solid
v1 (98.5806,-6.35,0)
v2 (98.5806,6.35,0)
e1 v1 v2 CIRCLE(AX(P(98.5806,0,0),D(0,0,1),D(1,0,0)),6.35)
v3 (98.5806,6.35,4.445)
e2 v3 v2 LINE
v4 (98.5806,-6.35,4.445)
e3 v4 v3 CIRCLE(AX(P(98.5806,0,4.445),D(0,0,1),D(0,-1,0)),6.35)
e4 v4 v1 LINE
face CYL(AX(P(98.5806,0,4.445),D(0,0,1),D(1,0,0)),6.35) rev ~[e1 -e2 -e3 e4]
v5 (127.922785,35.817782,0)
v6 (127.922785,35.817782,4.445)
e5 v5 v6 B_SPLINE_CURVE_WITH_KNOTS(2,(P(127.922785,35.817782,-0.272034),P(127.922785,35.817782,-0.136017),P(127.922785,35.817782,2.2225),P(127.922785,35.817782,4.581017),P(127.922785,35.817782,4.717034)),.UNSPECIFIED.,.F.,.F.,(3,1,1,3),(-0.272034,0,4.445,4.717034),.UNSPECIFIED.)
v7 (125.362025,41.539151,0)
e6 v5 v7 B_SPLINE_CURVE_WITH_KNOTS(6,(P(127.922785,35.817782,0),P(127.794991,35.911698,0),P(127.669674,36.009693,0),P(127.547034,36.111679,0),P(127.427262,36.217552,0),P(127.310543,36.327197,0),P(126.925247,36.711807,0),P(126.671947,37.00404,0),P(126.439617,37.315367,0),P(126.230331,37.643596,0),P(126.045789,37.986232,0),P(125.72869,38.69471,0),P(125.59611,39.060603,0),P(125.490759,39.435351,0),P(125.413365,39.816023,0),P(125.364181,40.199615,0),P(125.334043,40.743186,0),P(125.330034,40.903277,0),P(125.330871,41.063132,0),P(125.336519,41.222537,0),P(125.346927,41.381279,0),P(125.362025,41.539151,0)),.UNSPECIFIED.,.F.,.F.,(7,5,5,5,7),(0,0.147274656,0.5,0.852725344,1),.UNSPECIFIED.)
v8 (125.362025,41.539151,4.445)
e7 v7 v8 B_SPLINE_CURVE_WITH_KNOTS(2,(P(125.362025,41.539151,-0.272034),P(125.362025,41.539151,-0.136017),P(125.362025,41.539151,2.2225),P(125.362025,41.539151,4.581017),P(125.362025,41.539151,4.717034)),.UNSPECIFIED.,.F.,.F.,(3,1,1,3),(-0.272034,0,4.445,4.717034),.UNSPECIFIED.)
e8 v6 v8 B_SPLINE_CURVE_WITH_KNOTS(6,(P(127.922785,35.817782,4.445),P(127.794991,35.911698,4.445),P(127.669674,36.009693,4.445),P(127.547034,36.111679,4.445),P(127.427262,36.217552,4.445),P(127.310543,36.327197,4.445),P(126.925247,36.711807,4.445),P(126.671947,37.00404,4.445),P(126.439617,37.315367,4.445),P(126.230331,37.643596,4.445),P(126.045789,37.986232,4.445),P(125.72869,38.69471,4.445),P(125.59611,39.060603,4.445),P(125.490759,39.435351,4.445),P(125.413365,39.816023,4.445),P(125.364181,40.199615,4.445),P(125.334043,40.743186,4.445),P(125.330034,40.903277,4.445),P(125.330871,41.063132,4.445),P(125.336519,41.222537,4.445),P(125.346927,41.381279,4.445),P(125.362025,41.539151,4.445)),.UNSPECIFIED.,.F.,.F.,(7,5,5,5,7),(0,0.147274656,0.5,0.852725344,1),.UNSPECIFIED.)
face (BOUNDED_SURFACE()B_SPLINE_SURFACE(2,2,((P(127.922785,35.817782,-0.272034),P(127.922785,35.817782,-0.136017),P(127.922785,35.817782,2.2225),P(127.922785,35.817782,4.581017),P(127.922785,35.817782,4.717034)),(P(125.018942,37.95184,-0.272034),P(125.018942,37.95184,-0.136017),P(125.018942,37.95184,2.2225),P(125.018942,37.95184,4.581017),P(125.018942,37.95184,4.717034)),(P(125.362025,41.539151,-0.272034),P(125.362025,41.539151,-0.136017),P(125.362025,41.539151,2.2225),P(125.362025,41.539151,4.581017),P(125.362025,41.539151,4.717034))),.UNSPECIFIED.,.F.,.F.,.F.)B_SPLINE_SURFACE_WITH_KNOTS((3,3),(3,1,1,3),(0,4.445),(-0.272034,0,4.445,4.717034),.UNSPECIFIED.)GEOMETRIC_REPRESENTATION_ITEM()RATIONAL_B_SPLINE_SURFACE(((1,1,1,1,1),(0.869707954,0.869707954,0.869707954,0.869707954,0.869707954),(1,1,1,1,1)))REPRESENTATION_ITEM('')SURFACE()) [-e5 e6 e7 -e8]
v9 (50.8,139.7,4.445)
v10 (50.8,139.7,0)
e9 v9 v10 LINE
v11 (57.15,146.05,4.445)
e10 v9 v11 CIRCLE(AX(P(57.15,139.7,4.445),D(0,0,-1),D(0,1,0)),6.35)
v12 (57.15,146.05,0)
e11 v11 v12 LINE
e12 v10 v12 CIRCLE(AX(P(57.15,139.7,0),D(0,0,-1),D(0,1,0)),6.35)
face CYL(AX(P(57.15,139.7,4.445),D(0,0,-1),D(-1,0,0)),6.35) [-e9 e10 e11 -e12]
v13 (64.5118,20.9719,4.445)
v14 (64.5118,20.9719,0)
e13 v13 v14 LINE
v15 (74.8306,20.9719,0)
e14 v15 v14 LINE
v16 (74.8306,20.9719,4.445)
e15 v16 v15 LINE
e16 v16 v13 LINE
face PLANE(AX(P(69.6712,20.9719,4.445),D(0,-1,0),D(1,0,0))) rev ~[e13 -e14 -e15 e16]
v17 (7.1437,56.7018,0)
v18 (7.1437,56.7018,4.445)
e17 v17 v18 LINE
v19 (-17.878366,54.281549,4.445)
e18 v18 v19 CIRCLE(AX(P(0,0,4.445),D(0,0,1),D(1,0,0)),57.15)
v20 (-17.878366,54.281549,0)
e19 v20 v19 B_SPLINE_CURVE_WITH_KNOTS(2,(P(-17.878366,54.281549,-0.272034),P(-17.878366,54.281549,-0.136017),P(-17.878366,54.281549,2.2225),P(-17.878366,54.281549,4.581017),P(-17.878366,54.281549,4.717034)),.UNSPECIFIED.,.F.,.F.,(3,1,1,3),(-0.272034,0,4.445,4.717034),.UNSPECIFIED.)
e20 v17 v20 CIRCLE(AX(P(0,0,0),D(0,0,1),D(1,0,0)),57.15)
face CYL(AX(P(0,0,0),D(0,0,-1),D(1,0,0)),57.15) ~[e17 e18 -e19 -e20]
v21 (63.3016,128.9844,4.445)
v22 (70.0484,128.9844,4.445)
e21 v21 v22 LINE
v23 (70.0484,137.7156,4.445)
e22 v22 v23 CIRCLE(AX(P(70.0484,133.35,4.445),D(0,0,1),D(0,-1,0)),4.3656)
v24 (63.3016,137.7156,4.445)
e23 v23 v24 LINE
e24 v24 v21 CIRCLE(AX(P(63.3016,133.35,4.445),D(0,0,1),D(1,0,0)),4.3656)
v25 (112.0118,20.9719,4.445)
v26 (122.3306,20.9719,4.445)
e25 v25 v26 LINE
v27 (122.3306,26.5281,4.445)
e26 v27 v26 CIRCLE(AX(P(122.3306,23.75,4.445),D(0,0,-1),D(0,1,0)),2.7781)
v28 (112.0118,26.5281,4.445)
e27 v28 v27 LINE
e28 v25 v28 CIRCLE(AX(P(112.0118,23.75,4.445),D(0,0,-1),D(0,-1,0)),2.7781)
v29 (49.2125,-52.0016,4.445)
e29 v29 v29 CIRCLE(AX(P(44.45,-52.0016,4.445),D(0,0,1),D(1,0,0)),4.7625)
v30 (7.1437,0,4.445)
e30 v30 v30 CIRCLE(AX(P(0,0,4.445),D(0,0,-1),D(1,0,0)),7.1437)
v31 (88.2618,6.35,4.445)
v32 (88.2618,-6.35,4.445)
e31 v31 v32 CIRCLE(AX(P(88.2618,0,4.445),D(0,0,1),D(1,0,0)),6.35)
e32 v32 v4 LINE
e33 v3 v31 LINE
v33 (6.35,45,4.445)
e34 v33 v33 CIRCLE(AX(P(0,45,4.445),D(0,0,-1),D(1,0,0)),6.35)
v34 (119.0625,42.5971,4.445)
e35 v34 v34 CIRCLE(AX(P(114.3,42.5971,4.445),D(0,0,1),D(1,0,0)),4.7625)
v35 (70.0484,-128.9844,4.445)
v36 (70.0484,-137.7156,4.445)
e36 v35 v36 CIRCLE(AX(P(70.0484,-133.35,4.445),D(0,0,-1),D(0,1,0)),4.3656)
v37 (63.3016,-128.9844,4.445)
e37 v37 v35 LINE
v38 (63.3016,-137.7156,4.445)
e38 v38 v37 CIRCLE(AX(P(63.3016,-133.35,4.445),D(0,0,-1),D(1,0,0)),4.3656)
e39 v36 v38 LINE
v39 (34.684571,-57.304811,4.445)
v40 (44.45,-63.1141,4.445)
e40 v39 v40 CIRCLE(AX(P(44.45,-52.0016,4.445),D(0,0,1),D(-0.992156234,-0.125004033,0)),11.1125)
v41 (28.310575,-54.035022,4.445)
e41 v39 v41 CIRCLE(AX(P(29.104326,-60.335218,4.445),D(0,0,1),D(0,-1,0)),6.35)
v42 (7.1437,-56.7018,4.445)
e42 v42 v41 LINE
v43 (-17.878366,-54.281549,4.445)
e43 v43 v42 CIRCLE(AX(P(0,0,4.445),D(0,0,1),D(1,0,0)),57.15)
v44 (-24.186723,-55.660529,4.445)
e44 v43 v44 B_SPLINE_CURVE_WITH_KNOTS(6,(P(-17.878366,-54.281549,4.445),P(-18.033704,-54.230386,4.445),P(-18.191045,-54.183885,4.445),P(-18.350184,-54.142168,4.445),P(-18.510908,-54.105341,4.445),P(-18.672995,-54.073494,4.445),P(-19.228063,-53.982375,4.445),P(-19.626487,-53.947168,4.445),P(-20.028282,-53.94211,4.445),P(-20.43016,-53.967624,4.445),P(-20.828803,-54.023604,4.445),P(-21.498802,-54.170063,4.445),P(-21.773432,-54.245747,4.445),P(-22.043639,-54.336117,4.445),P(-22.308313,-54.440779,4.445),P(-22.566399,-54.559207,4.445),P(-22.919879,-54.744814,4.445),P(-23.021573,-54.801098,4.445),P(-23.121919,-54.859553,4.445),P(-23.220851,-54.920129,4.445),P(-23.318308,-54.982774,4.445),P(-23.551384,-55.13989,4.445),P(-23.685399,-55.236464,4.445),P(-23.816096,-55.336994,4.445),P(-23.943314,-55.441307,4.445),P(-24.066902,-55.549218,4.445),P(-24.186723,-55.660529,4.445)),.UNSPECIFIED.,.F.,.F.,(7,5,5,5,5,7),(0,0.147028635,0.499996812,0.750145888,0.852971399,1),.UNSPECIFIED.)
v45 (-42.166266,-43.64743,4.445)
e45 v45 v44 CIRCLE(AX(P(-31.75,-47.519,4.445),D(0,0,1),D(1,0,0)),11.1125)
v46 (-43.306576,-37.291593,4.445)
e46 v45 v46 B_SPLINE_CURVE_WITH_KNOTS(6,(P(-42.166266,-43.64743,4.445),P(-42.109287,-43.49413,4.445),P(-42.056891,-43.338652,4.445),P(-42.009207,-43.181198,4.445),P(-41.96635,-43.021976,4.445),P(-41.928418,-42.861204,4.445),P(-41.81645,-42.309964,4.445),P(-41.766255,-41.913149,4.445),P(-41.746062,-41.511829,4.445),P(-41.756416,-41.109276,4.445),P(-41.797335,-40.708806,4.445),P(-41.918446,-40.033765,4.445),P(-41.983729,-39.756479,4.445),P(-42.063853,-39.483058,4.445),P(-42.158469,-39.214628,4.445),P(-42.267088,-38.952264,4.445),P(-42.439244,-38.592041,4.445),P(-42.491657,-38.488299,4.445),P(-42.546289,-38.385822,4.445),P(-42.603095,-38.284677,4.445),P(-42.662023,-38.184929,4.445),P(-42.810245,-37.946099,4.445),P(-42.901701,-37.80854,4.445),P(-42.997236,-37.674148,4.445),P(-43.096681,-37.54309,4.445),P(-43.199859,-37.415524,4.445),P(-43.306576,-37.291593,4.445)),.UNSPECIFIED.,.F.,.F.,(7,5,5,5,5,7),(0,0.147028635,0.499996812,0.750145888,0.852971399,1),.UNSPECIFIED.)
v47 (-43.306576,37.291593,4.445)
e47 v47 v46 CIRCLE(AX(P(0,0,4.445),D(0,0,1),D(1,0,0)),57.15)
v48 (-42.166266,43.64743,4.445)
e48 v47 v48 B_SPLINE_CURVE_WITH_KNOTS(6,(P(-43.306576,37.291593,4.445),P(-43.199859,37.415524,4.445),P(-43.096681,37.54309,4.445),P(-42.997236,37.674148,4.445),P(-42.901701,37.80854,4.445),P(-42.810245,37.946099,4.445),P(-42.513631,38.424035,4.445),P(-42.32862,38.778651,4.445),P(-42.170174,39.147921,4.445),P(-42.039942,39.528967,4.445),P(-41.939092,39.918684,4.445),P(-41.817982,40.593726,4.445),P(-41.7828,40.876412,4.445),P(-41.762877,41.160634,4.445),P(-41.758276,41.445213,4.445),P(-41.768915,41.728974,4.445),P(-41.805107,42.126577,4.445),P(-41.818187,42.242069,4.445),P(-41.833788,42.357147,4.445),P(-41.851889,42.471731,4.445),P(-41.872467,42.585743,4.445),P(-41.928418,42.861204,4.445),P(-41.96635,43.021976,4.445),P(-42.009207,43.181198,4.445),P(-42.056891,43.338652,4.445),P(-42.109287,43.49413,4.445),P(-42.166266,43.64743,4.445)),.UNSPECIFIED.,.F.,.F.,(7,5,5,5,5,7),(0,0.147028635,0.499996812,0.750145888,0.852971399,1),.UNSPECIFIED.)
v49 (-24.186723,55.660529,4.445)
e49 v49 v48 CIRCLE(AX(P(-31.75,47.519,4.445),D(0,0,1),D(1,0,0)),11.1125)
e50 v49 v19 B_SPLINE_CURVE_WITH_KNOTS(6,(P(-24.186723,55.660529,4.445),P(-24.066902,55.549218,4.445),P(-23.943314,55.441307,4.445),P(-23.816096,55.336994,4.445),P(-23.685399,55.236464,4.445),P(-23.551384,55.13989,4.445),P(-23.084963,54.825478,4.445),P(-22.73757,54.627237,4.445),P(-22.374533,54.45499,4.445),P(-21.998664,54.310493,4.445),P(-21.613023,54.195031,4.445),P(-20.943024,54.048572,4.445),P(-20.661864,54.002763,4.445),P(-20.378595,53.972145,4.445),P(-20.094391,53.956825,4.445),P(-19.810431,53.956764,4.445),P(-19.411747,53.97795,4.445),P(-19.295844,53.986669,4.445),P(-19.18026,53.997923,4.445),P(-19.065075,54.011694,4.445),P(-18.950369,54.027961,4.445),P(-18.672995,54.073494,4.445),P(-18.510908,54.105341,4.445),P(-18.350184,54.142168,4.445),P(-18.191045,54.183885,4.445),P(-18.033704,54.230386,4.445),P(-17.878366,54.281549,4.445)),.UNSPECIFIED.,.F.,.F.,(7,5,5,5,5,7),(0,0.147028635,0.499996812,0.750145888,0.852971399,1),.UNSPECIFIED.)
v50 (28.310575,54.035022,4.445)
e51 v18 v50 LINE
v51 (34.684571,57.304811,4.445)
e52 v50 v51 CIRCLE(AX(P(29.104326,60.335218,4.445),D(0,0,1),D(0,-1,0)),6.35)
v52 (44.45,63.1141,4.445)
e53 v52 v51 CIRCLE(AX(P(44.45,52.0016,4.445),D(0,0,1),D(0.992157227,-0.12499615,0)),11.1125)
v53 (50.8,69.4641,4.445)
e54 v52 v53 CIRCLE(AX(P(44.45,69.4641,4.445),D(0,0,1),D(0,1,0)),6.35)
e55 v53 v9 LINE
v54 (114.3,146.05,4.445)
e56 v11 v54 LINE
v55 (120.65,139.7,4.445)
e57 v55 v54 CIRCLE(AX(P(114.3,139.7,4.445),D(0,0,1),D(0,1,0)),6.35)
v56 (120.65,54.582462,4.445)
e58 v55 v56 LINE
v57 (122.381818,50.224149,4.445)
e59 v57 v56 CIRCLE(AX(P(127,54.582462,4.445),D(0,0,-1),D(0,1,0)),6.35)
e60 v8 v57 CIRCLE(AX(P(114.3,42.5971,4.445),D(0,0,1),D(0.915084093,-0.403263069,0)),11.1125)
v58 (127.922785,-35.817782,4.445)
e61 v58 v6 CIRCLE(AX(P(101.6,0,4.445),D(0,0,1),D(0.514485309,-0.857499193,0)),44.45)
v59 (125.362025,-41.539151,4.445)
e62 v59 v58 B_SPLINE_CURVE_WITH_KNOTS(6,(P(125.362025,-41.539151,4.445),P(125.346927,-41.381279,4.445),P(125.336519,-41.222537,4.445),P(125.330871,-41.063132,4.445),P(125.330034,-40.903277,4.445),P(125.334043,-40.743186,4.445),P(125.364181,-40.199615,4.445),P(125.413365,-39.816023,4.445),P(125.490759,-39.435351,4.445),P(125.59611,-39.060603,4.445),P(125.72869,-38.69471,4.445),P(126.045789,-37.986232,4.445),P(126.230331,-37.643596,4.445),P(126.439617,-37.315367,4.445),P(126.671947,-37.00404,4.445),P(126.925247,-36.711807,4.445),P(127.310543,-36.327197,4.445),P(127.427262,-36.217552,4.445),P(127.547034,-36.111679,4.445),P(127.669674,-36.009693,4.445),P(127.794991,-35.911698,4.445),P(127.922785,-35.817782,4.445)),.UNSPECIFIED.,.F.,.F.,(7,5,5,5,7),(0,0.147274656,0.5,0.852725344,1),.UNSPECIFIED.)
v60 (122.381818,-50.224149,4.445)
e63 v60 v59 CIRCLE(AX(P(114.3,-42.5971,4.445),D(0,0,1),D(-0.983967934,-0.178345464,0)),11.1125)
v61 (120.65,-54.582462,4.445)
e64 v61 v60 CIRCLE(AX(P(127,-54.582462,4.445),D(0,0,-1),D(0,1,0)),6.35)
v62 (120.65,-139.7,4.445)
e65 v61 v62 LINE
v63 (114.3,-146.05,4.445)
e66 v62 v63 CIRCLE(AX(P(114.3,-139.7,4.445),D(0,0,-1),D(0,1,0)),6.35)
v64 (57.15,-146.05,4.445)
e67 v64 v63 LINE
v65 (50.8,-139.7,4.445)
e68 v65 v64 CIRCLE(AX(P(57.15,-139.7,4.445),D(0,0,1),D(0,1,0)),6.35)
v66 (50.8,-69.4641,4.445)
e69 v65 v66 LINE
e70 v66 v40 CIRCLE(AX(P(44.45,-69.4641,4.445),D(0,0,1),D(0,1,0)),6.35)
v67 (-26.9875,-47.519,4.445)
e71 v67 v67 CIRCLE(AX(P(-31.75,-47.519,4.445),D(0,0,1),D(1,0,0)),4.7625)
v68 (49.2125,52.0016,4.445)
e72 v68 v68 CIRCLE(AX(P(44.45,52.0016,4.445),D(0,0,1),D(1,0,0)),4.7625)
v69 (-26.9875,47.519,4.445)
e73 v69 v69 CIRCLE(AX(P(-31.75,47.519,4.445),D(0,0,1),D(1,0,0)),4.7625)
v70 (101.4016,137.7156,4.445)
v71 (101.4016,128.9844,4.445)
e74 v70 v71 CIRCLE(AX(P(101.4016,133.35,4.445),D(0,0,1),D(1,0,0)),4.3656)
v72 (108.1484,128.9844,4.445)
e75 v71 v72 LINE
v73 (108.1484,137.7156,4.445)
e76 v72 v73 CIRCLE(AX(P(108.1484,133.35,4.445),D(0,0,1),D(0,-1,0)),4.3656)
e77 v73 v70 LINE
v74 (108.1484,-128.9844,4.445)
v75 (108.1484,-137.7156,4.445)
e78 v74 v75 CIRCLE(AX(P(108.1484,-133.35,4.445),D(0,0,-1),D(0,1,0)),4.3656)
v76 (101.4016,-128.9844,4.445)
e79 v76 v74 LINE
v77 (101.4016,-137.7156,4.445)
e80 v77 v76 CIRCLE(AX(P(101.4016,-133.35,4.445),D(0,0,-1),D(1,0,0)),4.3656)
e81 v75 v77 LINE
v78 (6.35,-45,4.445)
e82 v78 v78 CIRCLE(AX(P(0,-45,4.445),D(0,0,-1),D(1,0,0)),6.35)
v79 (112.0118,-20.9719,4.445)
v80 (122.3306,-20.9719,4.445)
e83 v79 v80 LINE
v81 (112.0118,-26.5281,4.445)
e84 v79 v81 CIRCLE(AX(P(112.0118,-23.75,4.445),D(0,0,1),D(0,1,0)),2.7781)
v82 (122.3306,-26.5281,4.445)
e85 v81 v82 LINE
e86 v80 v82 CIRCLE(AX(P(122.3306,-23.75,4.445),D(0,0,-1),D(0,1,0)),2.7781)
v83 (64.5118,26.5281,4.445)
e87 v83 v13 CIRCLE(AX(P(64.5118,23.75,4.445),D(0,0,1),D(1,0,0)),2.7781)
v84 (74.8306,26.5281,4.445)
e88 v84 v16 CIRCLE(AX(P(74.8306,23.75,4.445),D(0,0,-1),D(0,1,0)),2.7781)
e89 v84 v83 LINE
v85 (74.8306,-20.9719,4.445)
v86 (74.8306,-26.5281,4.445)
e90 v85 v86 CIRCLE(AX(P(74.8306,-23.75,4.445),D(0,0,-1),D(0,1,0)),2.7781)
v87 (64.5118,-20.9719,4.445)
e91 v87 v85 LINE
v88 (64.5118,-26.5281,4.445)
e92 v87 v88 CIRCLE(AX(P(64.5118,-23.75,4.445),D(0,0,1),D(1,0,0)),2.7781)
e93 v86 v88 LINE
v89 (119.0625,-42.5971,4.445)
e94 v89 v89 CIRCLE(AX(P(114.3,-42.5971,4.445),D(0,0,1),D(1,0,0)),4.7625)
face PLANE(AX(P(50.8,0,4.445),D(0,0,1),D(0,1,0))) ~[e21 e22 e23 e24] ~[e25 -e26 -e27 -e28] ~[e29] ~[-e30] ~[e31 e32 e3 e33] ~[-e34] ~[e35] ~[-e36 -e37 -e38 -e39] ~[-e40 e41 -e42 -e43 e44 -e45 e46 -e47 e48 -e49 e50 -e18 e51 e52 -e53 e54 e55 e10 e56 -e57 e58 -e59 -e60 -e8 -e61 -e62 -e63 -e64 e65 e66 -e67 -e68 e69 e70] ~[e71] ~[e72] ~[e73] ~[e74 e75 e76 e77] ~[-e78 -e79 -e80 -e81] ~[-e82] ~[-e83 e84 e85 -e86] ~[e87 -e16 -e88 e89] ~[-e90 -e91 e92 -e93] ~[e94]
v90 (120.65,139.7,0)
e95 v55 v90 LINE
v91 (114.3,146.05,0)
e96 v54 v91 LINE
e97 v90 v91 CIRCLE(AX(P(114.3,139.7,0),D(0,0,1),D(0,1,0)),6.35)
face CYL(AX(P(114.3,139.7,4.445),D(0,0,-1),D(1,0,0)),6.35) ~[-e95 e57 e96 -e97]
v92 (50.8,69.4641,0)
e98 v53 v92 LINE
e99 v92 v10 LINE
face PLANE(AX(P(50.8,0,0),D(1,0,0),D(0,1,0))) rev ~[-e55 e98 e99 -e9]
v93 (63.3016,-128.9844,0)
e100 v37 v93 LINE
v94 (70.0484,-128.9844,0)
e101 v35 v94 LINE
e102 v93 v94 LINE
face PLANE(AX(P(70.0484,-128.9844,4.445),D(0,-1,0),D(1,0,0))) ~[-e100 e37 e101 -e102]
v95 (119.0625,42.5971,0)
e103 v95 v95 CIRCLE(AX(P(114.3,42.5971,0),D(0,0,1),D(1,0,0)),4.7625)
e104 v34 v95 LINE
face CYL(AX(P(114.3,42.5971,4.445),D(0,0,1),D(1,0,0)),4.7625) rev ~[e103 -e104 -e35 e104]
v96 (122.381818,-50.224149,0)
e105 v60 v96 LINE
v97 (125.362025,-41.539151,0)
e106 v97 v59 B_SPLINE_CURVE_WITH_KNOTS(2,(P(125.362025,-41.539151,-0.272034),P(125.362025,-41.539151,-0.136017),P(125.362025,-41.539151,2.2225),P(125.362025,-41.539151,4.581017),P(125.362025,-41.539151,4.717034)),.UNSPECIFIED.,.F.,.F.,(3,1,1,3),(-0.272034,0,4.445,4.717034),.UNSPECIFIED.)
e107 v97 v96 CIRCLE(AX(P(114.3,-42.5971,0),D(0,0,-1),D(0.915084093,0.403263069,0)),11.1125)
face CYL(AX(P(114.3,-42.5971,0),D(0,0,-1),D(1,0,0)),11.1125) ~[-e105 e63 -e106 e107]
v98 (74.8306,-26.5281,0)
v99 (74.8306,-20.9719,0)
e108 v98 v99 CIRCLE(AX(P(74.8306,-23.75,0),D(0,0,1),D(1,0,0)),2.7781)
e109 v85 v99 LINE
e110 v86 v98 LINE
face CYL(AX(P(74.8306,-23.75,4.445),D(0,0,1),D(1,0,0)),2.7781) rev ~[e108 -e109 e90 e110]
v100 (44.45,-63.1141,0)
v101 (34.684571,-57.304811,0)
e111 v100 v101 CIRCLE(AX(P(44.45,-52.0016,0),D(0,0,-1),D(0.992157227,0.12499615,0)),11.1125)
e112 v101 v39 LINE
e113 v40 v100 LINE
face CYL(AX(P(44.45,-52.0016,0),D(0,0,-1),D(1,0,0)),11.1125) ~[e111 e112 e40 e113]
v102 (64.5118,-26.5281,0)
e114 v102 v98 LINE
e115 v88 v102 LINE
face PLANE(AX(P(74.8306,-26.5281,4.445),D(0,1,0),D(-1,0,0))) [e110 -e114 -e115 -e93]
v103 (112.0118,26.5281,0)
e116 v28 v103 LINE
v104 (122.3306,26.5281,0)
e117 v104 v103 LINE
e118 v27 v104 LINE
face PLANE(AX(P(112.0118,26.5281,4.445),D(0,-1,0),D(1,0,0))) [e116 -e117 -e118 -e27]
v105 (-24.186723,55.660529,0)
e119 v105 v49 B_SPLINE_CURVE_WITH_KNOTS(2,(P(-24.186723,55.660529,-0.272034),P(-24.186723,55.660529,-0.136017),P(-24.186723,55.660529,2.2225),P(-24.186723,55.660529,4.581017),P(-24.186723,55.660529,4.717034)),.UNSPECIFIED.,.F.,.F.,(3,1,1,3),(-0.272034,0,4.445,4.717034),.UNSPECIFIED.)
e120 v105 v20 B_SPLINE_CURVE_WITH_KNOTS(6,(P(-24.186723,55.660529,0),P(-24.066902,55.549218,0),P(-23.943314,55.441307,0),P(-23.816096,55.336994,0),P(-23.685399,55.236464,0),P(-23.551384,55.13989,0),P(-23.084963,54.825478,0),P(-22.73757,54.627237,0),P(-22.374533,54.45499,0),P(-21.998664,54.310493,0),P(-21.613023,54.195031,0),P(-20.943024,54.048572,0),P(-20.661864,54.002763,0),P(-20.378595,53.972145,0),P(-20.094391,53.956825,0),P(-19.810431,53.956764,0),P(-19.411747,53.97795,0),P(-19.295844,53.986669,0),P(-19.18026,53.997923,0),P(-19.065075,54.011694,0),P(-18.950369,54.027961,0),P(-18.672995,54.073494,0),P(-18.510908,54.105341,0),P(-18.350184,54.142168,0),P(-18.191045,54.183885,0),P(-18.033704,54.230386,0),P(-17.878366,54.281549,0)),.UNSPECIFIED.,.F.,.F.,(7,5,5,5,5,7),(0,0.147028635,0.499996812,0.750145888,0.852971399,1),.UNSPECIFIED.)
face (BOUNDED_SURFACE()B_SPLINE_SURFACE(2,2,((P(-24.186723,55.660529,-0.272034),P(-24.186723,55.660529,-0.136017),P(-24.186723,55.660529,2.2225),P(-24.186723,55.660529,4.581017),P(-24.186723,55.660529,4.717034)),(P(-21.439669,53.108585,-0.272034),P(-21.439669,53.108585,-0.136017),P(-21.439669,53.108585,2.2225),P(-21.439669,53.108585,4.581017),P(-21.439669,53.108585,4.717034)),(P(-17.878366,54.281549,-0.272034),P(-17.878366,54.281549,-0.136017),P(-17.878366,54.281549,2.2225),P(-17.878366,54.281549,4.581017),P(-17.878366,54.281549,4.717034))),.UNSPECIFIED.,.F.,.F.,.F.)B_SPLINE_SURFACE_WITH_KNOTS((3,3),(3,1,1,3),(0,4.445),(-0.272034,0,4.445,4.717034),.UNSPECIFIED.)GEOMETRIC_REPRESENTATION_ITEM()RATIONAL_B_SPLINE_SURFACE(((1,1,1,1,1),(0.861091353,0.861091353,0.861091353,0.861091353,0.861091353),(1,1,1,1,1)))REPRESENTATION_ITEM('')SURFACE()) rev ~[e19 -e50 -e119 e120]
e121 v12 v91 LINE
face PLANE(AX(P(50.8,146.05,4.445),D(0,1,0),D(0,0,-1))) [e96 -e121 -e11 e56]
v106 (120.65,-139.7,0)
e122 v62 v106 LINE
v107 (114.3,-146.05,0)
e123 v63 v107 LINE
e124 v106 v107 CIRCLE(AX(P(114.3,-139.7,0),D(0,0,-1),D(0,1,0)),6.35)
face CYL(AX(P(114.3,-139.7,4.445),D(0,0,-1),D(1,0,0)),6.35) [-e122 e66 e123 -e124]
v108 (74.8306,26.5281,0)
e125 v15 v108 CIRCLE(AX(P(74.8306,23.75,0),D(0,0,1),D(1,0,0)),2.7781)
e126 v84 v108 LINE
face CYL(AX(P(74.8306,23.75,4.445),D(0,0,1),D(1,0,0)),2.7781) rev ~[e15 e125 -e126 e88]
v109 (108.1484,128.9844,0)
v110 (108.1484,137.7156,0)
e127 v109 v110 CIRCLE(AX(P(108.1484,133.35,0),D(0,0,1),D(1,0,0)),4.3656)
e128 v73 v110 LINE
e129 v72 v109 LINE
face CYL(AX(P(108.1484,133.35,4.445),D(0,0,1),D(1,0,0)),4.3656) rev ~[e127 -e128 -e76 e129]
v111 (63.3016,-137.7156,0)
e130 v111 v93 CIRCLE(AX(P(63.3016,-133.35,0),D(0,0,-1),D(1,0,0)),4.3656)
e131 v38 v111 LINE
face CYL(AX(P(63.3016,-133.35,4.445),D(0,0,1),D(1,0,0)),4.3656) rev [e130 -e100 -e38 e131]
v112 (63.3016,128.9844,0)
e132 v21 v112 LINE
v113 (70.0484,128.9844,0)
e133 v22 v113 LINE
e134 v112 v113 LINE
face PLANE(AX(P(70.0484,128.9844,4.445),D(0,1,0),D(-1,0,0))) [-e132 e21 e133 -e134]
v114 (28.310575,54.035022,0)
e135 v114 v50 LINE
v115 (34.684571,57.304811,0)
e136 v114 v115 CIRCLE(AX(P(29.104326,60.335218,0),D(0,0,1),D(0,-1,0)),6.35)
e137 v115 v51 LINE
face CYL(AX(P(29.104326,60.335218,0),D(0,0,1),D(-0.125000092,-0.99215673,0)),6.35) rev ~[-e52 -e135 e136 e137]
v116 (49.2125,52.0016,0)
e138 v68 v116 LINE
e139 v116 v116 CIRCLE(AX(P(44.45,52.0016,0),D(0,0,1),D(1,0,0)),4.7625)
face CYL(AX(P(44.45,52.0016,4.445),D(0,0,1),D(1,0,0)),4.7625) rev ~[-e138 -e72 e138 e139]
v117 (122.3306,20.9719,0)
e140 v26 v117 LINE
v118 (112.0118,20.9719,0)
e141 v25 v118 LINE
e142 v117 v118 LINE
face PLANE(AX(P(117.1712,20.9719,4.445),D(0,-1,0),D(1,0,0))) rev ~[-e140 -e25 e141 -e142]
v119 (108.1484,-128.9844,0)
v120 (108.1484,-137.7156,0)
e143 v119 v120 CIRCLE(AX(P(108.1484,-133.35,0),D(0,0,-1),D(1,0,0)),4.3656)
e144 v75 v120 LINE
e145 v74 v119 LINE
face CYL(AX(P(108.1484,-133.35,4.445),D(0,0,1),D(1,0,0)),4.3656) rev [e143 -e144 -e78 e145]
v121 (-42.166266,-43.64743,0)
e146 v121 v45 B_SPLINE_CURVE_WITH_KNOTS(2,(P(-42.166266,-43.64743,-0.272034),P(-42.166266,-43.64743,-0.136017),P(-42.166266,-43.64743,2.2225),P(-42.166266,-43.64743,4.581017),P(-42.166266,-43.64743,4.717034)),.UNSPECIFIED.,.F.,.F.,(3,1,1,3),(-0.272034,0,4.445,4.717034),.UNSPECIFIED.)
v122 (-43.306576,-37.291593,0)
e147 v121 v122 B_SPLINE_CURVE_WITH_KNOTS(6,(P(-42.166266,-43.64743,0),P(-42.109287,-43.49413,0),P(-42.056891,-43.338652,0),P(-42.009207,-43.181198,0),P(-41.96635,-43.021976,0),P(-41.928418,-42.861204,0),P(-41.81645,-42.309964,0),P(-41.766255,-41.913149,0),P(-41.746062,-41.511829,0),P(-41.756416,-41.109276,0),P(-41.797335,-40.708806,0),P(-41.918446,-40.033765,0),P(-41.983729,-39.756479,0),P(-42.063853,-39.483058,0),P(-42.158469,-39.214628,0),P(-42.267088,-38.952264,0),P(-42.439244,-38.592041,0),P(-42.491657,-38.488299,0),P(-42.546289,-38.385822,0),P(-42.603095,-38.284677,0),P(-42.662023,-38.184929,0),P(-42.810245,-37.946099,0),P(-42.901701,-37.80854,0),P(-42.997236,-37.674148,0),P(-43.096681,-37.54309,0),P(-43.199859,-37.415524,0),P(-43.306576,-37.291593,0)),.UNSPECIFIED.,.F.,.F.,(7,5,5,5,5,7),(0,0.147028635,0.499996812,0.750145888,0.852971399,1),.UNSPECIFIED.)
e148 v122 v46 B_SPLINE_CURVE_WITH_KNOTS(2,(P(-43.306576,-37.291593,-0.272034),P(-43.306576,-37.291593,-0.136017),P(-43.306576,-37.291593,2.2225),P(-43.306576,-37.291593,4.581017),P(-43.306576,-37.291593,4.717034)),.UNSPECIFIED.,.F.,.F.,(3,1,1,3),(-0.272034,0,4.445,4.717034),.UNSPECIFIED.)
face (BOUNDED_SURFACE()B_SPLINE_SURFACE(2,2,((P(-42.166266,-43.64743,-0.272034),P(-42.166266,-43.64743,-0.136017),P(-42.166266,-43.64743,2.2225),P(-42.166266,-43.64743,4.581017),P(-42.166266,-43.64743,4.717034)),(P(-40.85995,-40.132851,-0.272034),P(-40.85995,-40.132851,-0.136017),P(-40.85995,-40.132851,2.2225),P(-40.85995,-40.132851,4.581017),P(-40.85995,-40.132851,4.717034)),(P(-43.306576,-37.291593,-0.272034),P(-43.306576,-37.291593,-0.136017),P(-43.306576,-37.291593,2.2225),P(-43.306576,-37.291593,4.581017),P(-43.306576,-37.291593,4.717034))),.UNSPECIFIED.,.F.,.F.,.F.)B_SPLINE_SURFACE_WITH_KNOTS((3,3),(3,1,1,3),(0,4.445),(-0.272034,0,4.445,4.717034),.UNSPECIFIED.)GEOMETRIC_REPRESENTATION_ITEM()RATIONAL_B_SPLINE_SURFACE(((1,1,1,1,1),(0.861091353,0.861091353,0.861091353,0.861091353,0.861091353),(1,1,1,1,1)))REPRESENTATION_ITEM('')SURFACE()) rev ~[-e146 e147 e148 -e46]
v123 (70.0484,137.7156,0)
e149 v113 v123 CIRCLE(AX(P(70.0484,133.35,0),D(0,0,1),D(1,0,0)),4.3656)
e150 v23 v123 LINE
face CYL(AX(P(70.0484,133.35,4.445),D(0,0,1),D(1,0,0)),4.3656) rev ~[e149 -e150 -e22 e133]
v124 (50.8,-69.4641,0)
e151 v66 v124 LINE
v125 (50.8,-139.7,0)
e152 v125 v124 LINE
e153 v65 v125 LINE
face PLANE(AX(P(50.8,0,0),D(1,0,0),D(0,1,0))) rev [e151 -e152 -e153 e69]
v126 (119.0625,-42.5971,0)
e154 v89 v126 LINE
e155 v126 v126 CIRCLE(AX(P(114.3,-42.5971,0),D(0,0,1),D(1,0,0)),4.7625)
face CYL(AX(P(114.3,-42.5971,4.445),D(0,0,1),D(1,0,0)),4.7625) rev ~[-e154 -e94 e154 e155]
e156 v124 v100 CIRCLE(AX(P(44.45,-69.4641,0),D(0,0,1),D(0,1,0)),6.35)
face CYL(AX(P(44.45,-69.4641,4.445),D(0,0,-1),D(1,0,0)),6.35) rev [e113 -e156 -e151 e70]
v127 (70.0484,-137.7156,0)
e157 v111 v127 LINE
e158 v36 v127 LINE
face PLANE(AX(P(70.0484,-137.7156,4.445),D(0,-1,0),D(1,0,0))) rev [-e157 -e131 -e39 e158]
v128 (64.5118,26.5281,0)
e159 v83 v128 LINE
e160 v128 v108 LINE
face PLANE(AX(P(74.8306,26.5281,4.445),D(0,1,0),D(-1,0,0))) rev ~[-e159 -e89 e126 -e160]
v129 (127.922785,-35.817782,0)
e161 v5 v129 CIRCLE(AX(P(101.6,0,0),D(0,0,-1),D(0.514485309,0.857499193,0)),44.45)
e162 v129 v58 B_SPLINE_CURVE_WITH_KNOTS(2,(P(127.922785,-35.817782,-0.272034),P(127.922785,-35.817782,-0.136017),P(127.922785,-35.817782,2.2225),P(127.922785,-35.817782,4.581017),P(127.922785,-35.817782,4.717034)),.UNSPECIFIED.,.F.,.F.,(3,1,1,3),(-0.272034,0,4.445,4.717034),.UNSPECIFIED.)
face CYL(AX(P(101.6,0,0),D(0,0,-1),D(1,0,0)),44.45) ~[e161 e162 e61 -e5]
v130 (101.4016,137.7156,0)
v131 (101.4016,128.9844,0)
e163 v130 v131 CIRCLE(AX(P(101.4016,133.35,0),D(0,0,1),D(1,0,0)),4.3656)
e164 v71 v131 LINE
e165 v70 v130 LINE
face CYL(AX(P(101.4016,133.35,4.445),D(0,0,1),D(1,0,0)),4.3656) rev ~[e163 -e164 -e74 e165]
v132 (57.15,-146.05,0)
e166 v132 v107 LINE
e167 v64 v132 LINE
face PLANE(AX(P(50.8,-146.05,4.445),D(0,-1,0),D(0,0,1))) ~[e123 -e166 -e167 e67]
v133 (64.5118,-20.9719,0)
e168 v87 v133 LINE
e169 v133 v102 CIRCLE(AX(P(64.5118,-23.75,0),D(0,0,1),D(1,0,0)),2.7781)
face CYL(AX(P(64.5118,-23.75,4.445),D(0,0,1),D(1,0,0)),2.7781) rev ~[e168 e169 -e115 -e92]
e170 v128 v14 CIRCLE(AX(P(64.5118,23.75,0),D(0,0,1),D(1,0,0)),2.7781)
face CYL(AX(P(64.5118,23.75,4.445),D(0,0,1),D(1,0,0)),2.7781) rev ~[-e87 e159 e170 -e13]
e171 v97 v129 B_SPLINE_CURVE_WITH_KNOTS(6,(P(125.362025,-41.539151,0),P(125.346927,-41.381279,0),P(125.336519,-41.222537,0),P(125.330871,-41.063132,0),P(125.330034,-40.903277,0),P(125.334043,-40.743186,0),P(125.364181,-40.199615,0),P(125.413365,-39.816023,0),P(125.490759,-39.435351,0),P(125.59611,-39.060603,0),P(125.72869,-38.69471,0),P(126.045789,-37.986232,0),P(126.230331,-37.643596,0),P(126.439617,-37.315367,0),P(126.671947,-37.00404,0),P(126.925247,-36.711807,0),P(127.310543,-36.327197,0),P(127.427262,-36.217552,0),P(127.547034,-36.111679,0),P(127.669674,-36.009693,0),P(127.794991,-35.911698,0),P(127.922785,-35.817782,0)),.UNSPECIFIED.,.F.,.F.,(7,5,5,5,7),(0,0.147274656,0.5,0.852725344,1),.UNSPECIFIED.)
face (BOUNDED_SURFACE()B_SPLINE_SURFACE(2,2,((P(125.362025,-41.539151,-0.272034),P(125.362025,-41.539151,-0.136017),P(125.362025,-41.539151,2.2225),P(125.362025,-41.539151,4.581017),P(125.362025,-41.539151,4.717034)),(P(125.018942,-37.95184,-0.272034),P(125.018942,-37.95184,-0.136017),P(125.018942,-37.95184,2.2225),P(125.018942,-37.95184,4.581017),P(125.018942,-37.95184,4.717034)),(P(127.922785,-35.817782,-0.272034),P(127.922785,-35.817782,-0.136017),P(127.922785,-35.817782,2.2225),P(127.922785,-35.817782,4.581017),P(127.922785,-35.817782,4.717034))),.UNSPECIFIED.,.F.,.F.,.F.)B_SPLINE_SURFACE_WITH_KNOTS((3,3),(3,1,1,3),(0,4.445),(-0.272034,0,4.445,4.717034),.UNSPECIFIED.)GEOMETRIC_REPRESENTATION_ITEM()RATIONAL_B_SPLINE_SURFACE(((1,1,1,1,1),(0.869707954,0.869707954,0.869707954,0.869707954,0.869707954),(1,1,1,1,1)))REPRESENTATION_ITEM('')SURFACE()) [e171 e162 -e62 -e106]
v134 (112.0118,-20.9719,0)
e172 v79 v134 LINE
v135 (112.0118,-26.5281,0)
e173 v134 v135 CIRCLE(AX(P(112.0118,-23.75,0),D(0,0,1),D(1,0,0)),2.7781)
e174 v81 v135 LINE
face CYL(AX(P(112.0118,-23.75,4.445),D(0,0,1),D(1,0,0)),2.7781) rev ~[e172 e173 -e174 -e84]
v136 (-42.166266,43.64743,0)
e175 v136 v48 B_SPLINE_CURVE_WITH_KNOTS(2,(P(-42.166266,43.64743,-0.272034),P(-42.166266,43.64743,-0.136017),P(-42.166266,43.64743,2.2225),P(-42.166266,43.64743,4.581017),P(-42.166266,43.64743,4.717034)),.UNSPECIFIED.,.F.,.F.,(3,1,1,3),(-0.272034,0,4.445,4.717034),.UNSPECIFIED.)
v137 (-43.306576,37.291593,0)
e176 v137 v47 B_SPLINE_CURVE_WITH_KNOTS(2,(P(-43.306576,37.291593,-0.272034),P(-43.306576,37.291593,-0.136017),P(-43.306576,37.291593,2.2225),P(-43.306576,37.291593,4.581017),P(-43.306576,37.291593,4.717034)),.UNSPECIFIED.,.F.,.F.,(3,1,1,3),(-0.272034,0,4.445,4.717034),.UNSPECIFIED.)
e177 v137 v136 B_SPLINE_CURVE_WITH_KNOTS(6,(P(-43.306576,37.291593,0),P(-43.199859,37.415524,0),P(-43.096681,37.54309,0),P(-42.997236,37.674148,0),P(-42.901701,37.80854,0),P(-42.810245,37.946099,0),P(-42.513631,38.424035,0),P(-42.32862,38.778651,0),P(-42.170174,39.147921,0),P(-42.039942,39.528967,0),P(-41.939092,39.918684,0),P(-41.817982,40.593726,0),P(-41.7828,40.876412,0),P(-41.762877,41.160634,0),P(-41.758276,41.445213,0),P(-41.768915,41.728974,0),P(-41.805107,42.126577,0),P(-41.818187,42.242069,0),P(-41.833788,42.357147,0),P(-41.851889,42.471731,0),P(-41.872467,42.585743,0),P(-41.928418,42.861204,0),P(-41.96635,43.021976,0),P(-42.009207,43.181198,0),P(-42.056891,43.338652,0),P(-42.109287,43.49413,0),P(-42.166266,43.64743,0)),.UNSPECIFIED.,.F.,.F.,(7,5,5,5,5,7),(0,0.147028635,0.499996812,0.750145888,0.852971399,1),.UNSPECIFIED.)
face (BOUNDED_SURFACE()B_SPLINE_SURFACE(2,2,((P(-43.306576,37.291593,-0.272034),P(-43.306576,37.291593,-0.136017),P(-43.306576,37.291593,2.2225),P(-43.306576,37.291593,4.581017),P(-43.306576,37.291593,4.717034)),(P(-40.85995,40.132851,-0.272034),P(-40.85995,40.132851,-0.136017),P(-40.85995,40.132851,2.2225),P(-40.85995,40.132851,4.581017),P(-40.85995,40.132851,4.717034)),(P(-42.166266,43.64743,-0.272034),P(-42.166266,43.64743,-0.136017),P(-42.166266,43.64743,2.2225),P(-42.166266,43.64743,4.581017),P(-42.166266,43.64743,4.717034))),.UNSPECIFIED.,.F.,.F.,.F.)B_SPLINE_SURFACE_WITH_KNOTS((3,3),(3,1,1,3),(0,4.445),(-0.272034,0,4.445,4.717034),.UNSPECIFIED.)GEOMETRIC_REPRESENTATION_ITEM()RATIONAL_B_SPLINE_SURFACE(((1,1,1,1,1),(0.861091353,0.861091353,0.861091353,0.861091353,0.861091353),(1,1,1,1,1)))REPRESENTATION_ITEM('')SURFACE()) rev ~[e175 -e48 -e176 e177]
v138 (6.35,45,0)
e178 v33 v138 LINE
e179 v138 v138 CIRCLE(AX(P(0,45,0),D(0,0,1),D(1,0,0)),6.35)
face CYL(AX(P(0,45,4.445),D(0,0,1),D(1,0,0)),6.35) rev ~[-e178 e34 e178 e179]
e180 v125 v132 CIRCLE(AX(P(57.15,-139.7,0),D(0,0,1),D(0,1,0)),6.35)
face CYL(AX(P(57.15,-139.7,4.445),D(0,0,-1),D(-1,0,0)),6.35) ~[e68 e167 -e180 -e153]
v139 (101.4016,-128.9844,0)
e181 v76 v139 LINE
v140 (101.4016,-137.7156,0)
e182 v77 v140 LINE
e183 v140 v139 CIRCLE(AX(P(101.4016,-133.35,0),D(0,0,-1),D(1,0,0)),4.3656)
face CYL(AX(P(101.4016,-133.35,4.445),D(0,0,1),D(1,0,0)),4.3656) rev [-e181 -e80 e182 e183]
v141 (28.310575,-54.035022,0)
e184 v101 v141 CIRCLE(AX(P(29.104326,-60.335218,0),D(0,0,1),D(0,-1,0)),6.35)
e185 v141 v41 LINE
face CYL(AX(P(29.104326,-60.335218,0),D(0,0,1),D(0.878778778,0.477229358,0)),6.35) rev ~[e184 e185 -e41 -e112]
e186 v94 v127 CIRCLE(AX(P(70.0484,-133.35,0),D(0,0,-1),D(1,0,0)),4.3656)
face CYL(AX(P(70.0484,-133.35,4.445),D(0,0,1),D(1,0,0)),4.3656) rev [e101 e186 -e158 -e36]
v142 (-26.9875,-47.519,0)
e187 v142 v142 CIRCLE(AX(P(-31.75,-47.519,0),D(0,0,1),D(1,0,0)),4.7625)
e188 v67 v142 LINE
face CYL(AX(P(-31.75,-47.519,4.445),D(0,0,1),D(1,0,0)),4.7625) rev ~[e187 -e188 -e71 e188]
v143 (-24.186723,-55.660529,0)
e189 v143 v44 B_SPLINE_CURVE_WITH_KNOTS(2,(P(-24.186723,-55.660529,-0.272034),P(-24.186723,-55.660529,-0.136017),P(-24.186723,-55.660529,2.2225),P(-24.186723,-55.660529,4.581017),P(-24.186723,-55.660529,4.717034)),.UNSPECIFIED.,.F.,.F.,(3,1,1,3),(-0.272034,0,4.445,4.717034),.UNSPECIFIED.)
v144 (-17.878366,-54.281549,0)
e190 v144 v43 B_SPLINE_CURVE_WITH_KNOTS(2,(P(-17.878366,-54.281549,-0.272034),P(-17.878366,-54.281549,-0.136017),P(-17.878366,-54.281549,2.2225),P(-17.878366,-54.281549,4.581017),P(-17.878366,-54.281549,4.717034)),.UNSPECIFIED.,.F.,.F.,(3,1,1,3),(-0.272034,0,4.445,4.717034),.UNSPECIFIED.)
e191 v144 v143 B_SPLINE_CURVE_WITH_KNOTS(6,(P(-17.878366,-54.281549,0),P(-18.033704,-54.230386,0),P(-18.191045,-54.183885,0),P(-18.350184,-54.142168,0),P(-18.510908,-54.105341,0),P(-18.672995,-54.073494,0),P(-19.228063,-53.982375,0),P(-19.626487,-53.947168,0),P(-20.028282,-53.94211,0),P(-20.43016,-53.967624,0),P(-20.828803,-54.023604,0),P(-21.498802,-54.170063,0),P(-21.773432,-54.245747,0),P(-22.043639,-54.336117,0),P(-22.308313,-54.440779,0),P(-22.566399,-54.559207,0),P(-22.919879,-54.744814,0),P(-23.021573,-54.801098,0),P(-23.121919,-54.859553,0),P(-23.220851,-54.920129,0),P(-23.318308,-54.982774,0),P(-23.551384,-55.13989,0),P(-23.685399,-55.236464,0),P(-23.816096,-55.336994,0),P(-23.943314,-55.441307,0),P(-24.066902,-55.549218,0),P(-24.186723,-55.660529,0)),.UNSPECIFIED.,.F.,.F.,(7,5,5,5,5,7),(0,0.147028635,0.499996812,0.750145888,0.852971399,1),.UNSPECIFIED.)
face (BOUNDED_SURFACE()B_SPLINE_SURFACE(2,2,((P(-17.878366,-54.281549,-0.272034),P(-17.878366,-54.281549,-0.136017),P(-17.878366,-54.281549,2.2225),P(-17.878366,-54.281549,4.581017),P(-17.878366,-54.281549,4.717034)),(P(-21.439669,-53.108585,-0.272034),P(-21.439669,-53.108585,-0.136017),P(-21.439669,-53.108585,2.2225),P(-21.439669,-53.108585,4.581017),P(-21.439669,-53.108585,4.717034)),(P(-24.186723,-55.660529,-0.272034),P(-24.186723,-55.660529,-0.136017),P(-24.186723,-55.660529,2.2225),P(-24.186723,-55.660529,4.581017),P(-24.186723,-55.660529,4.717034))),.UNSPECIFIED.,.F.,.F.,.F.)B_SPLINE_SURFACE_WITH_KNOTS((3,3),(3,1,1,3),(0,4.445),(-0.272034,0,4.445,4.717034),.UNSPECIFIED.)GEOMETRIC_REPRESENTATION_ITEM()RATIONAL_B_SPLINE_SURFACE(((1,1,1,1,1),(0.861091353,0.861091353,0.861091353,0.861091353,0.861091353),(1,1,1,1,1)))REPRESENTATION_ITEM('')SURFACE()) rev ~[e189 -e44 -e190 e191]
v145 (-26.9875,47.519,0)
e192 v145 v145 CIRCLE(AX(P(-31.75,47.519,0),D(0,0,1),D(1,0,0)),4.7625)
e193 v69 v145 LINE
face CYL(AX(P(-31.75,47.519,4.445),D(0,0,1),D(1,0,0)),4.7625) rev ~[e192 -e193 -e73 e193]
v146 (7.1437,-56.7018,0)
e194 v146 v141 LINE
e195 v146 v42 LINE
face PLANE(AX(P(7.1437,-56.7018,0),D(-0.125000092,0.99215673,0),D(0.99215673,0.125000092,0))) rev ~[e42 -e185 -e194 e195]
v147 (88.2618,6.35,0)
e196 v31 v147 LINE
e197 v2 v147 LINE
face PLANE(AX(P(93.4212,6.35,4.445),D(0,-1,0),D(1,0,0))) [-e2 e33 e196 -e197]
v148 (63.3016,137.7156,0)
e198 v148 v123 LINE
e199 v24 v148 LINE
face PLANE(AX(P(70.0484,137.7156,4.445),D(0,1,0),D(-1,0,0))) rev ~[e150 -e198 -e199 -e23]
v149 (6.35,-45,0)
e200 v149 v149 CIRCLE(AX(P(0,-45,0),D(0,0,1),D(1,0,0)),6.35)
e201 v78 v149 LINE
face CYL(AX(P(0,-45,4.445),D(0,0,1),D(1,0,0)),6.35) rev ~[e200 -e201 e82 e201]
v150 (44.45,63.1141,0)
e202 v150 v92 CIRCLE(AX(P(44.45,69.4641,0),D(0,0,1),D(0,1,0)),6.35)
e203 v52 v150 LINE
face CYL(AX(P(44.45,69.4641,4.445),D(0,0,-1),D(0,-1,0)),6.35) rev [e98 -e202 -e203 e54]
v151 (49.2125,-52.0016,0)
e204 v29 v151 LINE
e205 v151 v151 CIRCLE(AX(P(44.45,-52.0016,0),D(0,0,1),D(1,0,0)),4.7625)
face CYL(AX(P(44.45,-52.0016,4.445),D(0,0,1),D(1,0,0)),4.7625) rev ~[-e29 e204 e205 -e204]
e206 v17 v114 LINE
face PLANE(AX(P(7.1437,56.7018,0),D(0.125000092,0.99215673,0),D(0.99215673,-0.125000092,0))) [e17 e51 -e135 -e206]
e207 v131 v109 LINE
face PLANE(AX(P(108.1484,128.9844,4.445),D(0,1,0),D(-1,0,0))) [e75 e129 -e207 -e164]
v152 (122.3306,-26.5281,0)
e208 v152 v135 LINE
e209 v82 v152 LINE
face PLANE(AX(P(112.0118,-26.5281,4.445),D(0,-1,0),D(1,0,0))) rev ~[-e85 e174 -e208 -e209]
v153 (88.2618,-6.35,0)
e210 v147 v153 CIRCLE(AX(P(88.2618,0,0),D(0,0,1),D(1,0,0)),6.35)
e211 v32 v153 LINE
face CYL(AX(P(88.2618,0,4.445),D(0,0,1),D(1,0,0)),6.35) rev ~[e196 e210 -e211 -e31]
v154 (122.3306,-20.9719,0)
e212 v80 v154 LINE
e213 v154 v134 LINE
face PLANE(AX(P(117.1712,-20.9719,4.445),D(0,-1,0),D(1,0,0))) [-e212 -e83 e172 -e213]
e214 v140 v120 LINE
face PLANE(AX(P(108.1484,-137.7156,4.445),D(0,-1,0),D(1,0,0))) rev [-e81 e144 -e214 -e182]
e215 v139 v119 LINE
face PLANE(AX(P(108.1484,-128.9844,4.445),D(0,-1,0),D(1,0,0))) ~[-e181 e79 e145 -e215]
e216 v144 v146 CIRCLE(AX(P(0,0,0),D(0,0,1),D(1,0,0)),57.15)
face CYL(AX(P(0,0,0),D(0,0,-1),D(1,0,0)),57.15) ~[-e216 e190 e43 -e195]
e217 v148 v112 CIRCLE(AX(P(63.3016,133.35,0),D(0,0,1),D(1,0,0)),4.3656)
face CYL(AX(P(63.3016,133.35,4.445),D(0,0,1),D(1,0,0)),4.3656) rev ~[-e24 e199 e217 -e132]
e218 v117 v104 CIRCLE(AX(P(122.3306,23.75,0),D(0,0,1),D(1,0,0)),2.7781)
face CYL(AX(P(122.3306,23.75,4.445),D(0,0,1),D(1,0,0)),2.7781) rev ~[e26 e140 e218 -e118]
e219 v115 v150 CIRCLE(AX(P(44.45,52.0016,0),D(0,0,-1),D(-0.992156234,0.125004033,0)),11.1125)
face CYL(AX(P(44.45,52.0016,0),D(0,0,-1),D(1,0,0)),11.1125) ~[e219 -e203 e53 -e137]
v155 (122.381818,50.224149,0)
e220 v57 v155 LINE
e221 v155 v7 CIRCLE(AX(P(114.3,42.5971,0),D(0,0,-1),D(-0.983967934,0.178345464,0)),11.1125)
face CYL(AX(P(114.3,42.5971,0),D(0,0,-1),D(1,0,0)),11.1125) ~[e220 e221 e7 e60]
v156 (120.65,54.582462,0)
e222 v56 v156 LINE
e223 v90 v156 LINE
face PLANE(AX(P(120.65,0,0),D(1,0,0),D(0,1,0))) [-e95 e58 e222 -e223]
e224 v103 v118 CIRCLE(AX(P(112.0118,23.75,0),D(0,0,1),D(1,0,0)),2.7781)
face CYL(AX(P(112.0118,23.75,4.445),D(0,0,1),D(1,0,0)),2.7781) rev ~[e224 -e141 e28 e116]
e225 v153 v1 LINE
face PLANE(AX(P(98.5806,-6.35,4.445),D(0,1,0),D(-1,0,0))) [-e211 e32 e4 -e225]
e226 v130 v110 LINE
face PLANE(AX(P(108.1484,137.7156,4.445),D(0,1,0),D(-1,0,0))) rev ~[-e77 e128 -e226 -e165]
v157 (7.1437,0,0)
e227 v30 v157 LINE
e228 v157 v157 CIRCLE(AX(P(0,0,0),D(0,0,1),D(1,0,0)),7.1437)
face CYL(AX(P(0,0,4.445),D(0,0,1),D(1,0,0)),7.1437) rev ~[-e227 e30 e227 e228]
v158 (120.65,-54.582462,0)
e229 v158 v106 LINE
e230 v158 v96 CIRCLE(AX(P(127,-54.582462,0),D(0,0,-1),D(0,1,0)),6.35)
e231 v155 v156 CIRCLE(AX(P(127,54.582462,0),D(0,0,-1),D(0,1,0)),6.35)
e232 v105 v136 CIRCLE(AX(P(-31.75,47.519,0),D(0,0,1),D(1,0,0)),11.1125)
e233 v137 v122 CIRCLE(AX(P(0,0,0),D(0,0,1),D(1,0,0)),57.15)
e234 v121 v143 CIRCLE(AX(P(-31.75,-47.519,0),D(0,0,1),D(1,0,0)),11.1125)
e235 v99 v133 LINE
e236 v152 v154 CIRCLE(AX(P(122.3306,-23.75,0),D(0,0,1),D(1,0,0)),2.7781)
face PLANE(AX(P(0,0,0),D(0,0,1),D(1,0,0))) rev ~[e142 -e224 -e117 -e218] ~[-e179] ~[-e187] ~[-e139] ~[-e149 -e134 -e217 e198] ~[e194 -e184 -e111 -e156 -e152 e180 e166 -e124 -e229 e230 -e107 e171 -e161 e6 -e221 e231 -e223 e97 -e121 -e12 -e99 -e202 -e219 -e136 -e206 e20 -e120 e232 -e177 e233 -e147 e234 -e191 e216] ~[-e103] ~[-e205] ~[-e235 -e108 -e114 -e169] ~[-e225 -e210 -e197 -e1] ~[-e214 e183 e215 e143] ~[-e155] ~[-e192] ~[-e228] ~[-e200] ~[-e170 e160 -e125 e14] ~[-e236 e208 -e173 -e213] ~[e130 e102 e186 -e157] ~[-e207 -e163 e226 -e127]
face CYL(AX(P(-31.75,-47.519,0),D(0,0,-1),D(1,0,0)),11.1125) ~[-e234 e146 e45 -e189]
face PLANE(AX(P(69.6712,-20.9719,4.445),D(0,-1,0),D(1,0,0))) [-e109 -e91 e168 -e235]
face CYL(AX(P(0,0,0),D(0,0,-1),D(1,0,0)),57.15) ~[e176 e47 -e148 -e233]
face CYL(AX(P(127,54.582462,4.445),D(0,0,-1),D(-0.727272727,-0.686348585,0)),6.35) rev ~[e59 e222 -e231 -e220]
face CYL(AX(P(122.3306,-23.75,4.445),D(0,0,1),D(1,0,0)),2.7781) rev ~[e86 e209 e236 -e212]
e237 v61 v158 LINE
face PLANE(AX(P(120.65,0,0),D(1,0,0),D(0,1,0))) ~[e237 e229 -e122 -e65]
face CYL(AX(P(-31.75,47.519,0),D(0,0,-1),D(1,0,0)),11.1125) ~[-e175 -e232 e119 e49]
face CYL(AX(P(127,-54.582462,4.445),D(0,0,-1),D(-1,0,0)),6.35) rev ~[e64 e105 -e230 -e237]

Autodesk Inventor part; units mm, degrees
ref_plane "XZ Plane" through (0, 0, 0) normal (0, 1, 0) x (-1, 0, 0)
ref_plane "XY Plane" through (0, 0, 0) normal (0, 0, 1) x (1, 0, 0)
sketch "Boceto1" plane through (0, 0, 0) normal (0, 0, 1) x (1, 0, 0)
  circle A0 centre (0, 0) radius 57.15
  circle A1 centre (101.6, 0) radius 44.45
  circle A2 centre (-31.75, 47.519) radius 11.1125
  circle A3 centre (-31.75, -47.519) radius 11.1125
  circle A4 centre (114.3, 42.5971) radius 11.1125
  circle A5 centre (114.3, -42.5971) radius 11.1125
  line L0 (7.1437, 56.7018) -> (107.1562, 44.1014)
  circle A6 centre (44.45, 52.0016) radius 11.1125
  line L1 (7.1437, -56.7018) -> (107.1562, -44.1014)
  circle A7 centre (44.45, -52.0016) radius 11.1125
  dimension "d0" = 114.3
  dimension "d1" = 88.9
  dimension "d2" = 203.2
  dimension "d3" = 22.225
  dimension "d4" = 22.225
  dimension "d7" = 22.225
  dimension "d8" = 22.225
  dimension "d11" = 22.225
  dimension "d13" = 0
  dimension "d14" = 22.225
  dimension "d35" = 31.75
  dimension "d36" = 31.75
  dimension "d37" = 44.45
  dimension "d38" = 44.45
  dimension "d39" = 12.7
  dimension "d40" = 12.7
extrude "Extrusión1" add sketch "Boceto1" along normal blind 4.445
ref_plane "Plano de trabajo1" through (50.8, 0, 0) normal (1, 0, 0) x (0, 1, 0)
sketch "Boceto3" plane through (50.8, 0, 0) normal (1, 0, 0) x (0, 1, 0)
  line L0 (0, 0) -> (0, 4.445)
  line L1 (-52.7651, 4.445) -> (-56.7018, 4.445) projected
  line L2 (0, 4.445) -> (69.85, 4.445)
  line L3 (69.85, 4.445) -> (69.85, 4.445)
  line L4 (69.85, 4.445) -> (146.05, 4.445)
  line L5 (146.05, 4.445) -> (146.05, 0)
  line L6 (146.05, 0) -> (74.295, 0)
  line L7 (74.295, 0) -> (74.295, 0)
  line L8 (74.295, 0) -> (0, 0)
  point P0 (37.2916, 4.445)
  point P1 (-37.2916, 4.445)
  dimension "d28" = 4.445
  dimension "d29" = 4.445
  dimension "d30" = 69.85
  dimension "d31" = 4.445
  dimension "d32" = 146.05
extrude "Extrusión3" add sketch "Boceto3" along normal blind 69.85
fillet "Empalme5" radius 6.35 2 edges at (120.65, 146.05, 2.2225) (50.8, 146.05, 2.2225)
mirror "Simetría1" about plane through (0, 0, 0) normal (0, 1, 0) of "Extrusión3", "Empalme5"
sketch "Boceto2" plane through (0, 0, 4.445) normal (0, 0, 1) x (1, 0, 0)
  arc A0 (-21.9537, 52.7651) -> (-40.3458, 40.4764) centre (-31.75, 47.519) ccw projected
  circle A1 centre (-31.75, 47.519) radius 4.7625
  arc A2 (-40.3458, -40.4764) -> (-21.9537, -52.7651) centre (-31.75, -47.519) ccw projected
  circle A3 centre (-31.75, -47.519) radius 4.7625
  arc A4 (33.4247, -53.3907) -> (55.4753, -50.6125) centre (44.45, -52.0016) ccw projected
  circle A5 centre (44.45, -52.0016) radius 4.7625
  arc A6 (55.4753, 50.6125) -> (33.4247, 53.3907) centre (44.45, 52.0016) ccw projected
  circle A7 centre (44.45, 52.0016) radius 4.7625
  arc A8 (124.4689, 38.1158) -> (103.3657, 44.5789) centre (114.3, 42.5971) ccw projected
  circle A9 centre (114.3, 42.5971) radius 4.7625
  arc A10 (103.3657, -44.5789) -> (124.4689, -38.1158) centre (114.3, -42.5971) ccw projected
  circle A11 centre (114.3, -42.5971) radius 4.7625
  point P0 (0, 0)
  dimension "d18" = 9.525
  dimension "d19" = 9.525
  dimension "d20" = 9.525
  dimension "d21" = 9.525
  dimension "d22" = 9.525
  dimension "d23" = 9.525
extrude "Extrusión2" cut sketch "Boceto2" against normal up to surface (4.445 mm away)
fillet "Empalme6" radius 6.35 12 edges at (124.4689, 38.1158, 2.2225) (120.65, 51.7166, 2.2225) (-40.3458, 40.4764, 2.2225) (-21.9537, 52.7651, 2.2225) (124.4689, -38.1158, 2.2225) (120.65, -51.7166, 2.2225) (-21.9537, -52.7651, 2.2225) (-40.3458, -40.4764, 2.2225) (33.4247, -53.3907, 2.2225) (50.8, -61.1211, 2.2225) (50.8, 61.1211, 2.2225) (33.4247, 53.3907, 2.2225)
sketch "Boceto5" plane through (0, 0, 4.445) normal (0, 0, 1) x (1, 0, 0)
  circle A0 centre (0, 0) radius 7.1437
  line L0 (0, 0) -> (0, 45)
  line L1 (0, 0) -> (0, -45)
  circle A1 centre (0, 45) radius 6.35
  circle A2 centre (0, -45) radius 6.35
  dimension "d58" = 14.2875
  dimension "d59" = 45
  dimension "d60" = 45
  dimension "d61" = 12.7
  dimension "d62" = 12.7
extrude "Extrusión5" cut sketch "Boceto5" against normal up to surface (4.445 mm away)
sketch "Boceto6" plane through (0, 0, 4.445) normal (0, 0, 1) x (1, 0, 0)
  circle A0 centre (93.4212, 0) radius 6.35
  circle A1 centre (88.2618, 0) radius 6.35
  circle A2 centre (98.5806, 0) radius 6.35
  line L0 (88.2618, 6.35) -> (98.5806, 6.35)
  line L1 (98.5806, -6.35) -> (88.2618, -6.35)
  line L2 (69.6712, 23.75) -> (117.1712, 23.75)
  line L3 (117.1712, 23.75) -> (117.1712, -23.75)
  line L4 (117.1712, -23.75) -> (69.6712, -23.75)
  line L5 (69.6712, -23.75) -> (69.6712, 23.75)
  circle A3 centre (74.8306, 23.75) radius 2.7781
  circle A4 centre (64.5118, 23.75) radius 2.7781
  line L6 (74.8306, 26.5281) -> (64.5118, 26.5281)
  line L7 (64.5118, 20.9719) -> (74.8306, 20.9719)
  circle A5 centre (74.8306, -23.75) radius 2.7781
  circle A6 centre (64.5118, -23.75) radius 2.7781
  line L8 (64.5118, -20.9719) -> (74.8306, -20.9719)
  line L9 (74.8306, -26.5281) -> (64.5118, -26.5281)
  circle A7 centre (112.0118, -23.75) radius 2.7781
  circle A8 centre (122.3306, -23.75) radius 2.7781
  line L10 (112.0118, -20.9719) -> (122.3306, -20.9719)
  line L11 (112.0118, -26.5281) -> (122.3306, -26.5281)
  circle A9 centre (112.0118, 23.75) radius 2.7781
  circle A10 centre (122.3306, 23.75) radius 2.7781
  line L12 (112.0118, 26.5281) -> (122.3306, 26.5281)
  line L13 (112.0118, 20.9719) -> (122.3306, 20.9719)
  point P0 (0, 0)
  dimension "d65" = 12.7
  dimension "d66" = 0
  dimension "d67" = 93.4212
  dimension "d68" = 12.7
  dimension "d69" = 12.7
  dimension "d70" = 5.1594
  dimension "d71" = 5.1594
  dimension "d72" = 47.5
  dimension "d73" = 47.5
  dimension "d74" = 23.75
  dimension "d75" = 23.75
  dimension "d76" = 5.5563
  dimension "d77" = 5.5563
  dimension "d78" = 5.1594
  dimension "d79" = 5.1594
  dimension "d80" = 0
  dimension "d81" = 5.5563
  dimension "d82" = 5.5563
  dimension "d83" = 5.1594
  dimension "d84" = 5.1594
  dimension "d85" = 0
  dimension "d86" = 0
  dimension "d87" = 5.5563
  dimension "d88" = 5.5563
  dimension "d89" = 5.1594
  dimension "d90" = 5.1594
  dimension "d91" = 0
  dimension "d92" = 5.5563
  dimension "d93" = 5.5563
  dimension "d94" = 5.1594
  dimension "d95" = 5.1594
  dimension "d96" = 0
extrude "Extrusión6" cut sketch "Boceto6" against normal up to next contours A0 A2 A1 | A0 A2 | A2 A1 A0 | A0 L0 A2 | A2 L1 A0 | A0 A1 A2 | A0 A1 L0 | A2 A1 A0 | A1 A2 | L1 A1 A0 | A0 A1 | A9 L12 A10 L13 L3 L2 | A9 L2 | L2 A9 | L2 L3 L13 A9 | A3 L2 | L2 A3 | A10 | L10 A8 L11 A7 L4 L3 | L3 L4 A7 L10 | A3 L7 L5 L2 | L2 L5 L7 A4 L6 A3 | A7 L4 | A8 | A4 | A7 L4 | L8 A5 L4 L5 | L5 L4 A5 L9 A6 L8 | A5 L4 | L4 A5 | A6
sketch "Boceto7" plane through (0, 0, 4.445) normal (0, 0, 1) x (1, 0, 0)
  circle A0 centre (104.775, 133.35) radius 4.3656
  line L0 (120.65, 139.7) -> (120.65, 54.5825) projected
  line L1 (57.15, 146.05) -> (114.3, 146.05) projected
  circle A1 centre (101.4016, 133.35) radius 4.3656
  circle A2 centre (108.1484, 133.35) radius 4.3656
  line L2 (108.1484, 128.9844) -> (101.4016, 128.9844)
  line L3 (108.1484, 137.7156) -> (101.4016, 137.7156)
  circle A3 centre (66.675, 133.35) radius 4.3656
  line L4 (50.8, 69.4641) -> (50.8, 139.7) projected
  circle A4 centre (63.3016, 133.35) radius 4.3656
  circle A5 centre (70.0484, 133.35) radius 4.3656
  line L5 (70.0484, 128.9844) -> (63.3016, 128.9844)
  line L6 (70.0484, 137.7156) -> (63.3016, 137.7156)
  point P0 (0, 0)
  dimension "d99" = 8.7312
  dimension "d101" = 15.875
  dimension "d104" = 8.7312
  dimension "d105" = 8.7312
  dimension "d106" = 12.7
  dimension "d107" = 0
  dimension "d108" = 0
  dimension "d110" = 3.3734
  dimension "d111" = 3.3734
  dimension "d112" = 8.7312
  dimension "d113" = 12.7
  dimension "d114" = 15.875
  dimension "d115" = 8.7312
  dimension "d116" = 8.7312
  dimension "d117" = 0
  dimension "d118" = 0
  dimension "d119" = 3.3734
  dimension "d120" = 3.3734
extrude "Extrusión7" cut sketch "Boceto7" against normal up to next
mirror "Simetría2" about plane through (0, 0, 0) normal (0, 1, 0) of "Extrusión7"
equation "\"d16\" = t"
equation "\"d28\" = t"
equation "\"d29\" = t"
equation "\"d18\" = Q"
equation "\"d19\" = Q"
equation "\"d20\" = Q"
equation "\"d21\" = Q"
equation "\"d22\" = Q"
equation "\"d23\" = Q"
equation "\"d58\" = DF"
equation "\"d59\" = 0.5 * JF"
equation "\"d60\" = 0.5 * JF"
equation "\"d61\" = NF"
equation "\"d62\" = NF"
equation "\"d65\" = DM"
equation "\"d67\" = CM"
equation "\"d68\" = DM"
equation "\"d69\" = DM"
equation "\"d72\" = BM"
equation "\"d73\" = BM"
equation "\"d74\" = 0.5 * BM"
equation "\"d75\" = 0.5 * BM"
equation "\"d76\" = NM"
equation "\"d77\" = NM"
equation "\"d81\" = NM"
equation "\"d82\" = NM"
equation "\"d87\" = NM"
equation "\"d88\" = NM"
equation "\"d92\" = NM"
equation "\"d93\" = NM"
equation "\"d99\" = DH"
equation "\"d104\" = DH"
equation "\"d105\" = DH"
equation "\"d112\" = DH"
equation "\"d115\" = DH"
equation "\"d116\" = DH"
equation "\"t\" = 4.445"
equation "\"Q\" = 9.525"
equation "\"DF\" = 14.2875"
equation "\"NF\" = 12.7"
equation "\"DH\" = 8.73125"
equation "\"DM\" = 12.7"
equation "\"NM\" = 5.55625"
equation "\"CM\" = 93.4212"
equation "\"AM\" = 56"
equation "\"BM\" = 47.5"
equation "\"JF\" = 90"
properties part number "SIDE REDUCTION PLATE II"
